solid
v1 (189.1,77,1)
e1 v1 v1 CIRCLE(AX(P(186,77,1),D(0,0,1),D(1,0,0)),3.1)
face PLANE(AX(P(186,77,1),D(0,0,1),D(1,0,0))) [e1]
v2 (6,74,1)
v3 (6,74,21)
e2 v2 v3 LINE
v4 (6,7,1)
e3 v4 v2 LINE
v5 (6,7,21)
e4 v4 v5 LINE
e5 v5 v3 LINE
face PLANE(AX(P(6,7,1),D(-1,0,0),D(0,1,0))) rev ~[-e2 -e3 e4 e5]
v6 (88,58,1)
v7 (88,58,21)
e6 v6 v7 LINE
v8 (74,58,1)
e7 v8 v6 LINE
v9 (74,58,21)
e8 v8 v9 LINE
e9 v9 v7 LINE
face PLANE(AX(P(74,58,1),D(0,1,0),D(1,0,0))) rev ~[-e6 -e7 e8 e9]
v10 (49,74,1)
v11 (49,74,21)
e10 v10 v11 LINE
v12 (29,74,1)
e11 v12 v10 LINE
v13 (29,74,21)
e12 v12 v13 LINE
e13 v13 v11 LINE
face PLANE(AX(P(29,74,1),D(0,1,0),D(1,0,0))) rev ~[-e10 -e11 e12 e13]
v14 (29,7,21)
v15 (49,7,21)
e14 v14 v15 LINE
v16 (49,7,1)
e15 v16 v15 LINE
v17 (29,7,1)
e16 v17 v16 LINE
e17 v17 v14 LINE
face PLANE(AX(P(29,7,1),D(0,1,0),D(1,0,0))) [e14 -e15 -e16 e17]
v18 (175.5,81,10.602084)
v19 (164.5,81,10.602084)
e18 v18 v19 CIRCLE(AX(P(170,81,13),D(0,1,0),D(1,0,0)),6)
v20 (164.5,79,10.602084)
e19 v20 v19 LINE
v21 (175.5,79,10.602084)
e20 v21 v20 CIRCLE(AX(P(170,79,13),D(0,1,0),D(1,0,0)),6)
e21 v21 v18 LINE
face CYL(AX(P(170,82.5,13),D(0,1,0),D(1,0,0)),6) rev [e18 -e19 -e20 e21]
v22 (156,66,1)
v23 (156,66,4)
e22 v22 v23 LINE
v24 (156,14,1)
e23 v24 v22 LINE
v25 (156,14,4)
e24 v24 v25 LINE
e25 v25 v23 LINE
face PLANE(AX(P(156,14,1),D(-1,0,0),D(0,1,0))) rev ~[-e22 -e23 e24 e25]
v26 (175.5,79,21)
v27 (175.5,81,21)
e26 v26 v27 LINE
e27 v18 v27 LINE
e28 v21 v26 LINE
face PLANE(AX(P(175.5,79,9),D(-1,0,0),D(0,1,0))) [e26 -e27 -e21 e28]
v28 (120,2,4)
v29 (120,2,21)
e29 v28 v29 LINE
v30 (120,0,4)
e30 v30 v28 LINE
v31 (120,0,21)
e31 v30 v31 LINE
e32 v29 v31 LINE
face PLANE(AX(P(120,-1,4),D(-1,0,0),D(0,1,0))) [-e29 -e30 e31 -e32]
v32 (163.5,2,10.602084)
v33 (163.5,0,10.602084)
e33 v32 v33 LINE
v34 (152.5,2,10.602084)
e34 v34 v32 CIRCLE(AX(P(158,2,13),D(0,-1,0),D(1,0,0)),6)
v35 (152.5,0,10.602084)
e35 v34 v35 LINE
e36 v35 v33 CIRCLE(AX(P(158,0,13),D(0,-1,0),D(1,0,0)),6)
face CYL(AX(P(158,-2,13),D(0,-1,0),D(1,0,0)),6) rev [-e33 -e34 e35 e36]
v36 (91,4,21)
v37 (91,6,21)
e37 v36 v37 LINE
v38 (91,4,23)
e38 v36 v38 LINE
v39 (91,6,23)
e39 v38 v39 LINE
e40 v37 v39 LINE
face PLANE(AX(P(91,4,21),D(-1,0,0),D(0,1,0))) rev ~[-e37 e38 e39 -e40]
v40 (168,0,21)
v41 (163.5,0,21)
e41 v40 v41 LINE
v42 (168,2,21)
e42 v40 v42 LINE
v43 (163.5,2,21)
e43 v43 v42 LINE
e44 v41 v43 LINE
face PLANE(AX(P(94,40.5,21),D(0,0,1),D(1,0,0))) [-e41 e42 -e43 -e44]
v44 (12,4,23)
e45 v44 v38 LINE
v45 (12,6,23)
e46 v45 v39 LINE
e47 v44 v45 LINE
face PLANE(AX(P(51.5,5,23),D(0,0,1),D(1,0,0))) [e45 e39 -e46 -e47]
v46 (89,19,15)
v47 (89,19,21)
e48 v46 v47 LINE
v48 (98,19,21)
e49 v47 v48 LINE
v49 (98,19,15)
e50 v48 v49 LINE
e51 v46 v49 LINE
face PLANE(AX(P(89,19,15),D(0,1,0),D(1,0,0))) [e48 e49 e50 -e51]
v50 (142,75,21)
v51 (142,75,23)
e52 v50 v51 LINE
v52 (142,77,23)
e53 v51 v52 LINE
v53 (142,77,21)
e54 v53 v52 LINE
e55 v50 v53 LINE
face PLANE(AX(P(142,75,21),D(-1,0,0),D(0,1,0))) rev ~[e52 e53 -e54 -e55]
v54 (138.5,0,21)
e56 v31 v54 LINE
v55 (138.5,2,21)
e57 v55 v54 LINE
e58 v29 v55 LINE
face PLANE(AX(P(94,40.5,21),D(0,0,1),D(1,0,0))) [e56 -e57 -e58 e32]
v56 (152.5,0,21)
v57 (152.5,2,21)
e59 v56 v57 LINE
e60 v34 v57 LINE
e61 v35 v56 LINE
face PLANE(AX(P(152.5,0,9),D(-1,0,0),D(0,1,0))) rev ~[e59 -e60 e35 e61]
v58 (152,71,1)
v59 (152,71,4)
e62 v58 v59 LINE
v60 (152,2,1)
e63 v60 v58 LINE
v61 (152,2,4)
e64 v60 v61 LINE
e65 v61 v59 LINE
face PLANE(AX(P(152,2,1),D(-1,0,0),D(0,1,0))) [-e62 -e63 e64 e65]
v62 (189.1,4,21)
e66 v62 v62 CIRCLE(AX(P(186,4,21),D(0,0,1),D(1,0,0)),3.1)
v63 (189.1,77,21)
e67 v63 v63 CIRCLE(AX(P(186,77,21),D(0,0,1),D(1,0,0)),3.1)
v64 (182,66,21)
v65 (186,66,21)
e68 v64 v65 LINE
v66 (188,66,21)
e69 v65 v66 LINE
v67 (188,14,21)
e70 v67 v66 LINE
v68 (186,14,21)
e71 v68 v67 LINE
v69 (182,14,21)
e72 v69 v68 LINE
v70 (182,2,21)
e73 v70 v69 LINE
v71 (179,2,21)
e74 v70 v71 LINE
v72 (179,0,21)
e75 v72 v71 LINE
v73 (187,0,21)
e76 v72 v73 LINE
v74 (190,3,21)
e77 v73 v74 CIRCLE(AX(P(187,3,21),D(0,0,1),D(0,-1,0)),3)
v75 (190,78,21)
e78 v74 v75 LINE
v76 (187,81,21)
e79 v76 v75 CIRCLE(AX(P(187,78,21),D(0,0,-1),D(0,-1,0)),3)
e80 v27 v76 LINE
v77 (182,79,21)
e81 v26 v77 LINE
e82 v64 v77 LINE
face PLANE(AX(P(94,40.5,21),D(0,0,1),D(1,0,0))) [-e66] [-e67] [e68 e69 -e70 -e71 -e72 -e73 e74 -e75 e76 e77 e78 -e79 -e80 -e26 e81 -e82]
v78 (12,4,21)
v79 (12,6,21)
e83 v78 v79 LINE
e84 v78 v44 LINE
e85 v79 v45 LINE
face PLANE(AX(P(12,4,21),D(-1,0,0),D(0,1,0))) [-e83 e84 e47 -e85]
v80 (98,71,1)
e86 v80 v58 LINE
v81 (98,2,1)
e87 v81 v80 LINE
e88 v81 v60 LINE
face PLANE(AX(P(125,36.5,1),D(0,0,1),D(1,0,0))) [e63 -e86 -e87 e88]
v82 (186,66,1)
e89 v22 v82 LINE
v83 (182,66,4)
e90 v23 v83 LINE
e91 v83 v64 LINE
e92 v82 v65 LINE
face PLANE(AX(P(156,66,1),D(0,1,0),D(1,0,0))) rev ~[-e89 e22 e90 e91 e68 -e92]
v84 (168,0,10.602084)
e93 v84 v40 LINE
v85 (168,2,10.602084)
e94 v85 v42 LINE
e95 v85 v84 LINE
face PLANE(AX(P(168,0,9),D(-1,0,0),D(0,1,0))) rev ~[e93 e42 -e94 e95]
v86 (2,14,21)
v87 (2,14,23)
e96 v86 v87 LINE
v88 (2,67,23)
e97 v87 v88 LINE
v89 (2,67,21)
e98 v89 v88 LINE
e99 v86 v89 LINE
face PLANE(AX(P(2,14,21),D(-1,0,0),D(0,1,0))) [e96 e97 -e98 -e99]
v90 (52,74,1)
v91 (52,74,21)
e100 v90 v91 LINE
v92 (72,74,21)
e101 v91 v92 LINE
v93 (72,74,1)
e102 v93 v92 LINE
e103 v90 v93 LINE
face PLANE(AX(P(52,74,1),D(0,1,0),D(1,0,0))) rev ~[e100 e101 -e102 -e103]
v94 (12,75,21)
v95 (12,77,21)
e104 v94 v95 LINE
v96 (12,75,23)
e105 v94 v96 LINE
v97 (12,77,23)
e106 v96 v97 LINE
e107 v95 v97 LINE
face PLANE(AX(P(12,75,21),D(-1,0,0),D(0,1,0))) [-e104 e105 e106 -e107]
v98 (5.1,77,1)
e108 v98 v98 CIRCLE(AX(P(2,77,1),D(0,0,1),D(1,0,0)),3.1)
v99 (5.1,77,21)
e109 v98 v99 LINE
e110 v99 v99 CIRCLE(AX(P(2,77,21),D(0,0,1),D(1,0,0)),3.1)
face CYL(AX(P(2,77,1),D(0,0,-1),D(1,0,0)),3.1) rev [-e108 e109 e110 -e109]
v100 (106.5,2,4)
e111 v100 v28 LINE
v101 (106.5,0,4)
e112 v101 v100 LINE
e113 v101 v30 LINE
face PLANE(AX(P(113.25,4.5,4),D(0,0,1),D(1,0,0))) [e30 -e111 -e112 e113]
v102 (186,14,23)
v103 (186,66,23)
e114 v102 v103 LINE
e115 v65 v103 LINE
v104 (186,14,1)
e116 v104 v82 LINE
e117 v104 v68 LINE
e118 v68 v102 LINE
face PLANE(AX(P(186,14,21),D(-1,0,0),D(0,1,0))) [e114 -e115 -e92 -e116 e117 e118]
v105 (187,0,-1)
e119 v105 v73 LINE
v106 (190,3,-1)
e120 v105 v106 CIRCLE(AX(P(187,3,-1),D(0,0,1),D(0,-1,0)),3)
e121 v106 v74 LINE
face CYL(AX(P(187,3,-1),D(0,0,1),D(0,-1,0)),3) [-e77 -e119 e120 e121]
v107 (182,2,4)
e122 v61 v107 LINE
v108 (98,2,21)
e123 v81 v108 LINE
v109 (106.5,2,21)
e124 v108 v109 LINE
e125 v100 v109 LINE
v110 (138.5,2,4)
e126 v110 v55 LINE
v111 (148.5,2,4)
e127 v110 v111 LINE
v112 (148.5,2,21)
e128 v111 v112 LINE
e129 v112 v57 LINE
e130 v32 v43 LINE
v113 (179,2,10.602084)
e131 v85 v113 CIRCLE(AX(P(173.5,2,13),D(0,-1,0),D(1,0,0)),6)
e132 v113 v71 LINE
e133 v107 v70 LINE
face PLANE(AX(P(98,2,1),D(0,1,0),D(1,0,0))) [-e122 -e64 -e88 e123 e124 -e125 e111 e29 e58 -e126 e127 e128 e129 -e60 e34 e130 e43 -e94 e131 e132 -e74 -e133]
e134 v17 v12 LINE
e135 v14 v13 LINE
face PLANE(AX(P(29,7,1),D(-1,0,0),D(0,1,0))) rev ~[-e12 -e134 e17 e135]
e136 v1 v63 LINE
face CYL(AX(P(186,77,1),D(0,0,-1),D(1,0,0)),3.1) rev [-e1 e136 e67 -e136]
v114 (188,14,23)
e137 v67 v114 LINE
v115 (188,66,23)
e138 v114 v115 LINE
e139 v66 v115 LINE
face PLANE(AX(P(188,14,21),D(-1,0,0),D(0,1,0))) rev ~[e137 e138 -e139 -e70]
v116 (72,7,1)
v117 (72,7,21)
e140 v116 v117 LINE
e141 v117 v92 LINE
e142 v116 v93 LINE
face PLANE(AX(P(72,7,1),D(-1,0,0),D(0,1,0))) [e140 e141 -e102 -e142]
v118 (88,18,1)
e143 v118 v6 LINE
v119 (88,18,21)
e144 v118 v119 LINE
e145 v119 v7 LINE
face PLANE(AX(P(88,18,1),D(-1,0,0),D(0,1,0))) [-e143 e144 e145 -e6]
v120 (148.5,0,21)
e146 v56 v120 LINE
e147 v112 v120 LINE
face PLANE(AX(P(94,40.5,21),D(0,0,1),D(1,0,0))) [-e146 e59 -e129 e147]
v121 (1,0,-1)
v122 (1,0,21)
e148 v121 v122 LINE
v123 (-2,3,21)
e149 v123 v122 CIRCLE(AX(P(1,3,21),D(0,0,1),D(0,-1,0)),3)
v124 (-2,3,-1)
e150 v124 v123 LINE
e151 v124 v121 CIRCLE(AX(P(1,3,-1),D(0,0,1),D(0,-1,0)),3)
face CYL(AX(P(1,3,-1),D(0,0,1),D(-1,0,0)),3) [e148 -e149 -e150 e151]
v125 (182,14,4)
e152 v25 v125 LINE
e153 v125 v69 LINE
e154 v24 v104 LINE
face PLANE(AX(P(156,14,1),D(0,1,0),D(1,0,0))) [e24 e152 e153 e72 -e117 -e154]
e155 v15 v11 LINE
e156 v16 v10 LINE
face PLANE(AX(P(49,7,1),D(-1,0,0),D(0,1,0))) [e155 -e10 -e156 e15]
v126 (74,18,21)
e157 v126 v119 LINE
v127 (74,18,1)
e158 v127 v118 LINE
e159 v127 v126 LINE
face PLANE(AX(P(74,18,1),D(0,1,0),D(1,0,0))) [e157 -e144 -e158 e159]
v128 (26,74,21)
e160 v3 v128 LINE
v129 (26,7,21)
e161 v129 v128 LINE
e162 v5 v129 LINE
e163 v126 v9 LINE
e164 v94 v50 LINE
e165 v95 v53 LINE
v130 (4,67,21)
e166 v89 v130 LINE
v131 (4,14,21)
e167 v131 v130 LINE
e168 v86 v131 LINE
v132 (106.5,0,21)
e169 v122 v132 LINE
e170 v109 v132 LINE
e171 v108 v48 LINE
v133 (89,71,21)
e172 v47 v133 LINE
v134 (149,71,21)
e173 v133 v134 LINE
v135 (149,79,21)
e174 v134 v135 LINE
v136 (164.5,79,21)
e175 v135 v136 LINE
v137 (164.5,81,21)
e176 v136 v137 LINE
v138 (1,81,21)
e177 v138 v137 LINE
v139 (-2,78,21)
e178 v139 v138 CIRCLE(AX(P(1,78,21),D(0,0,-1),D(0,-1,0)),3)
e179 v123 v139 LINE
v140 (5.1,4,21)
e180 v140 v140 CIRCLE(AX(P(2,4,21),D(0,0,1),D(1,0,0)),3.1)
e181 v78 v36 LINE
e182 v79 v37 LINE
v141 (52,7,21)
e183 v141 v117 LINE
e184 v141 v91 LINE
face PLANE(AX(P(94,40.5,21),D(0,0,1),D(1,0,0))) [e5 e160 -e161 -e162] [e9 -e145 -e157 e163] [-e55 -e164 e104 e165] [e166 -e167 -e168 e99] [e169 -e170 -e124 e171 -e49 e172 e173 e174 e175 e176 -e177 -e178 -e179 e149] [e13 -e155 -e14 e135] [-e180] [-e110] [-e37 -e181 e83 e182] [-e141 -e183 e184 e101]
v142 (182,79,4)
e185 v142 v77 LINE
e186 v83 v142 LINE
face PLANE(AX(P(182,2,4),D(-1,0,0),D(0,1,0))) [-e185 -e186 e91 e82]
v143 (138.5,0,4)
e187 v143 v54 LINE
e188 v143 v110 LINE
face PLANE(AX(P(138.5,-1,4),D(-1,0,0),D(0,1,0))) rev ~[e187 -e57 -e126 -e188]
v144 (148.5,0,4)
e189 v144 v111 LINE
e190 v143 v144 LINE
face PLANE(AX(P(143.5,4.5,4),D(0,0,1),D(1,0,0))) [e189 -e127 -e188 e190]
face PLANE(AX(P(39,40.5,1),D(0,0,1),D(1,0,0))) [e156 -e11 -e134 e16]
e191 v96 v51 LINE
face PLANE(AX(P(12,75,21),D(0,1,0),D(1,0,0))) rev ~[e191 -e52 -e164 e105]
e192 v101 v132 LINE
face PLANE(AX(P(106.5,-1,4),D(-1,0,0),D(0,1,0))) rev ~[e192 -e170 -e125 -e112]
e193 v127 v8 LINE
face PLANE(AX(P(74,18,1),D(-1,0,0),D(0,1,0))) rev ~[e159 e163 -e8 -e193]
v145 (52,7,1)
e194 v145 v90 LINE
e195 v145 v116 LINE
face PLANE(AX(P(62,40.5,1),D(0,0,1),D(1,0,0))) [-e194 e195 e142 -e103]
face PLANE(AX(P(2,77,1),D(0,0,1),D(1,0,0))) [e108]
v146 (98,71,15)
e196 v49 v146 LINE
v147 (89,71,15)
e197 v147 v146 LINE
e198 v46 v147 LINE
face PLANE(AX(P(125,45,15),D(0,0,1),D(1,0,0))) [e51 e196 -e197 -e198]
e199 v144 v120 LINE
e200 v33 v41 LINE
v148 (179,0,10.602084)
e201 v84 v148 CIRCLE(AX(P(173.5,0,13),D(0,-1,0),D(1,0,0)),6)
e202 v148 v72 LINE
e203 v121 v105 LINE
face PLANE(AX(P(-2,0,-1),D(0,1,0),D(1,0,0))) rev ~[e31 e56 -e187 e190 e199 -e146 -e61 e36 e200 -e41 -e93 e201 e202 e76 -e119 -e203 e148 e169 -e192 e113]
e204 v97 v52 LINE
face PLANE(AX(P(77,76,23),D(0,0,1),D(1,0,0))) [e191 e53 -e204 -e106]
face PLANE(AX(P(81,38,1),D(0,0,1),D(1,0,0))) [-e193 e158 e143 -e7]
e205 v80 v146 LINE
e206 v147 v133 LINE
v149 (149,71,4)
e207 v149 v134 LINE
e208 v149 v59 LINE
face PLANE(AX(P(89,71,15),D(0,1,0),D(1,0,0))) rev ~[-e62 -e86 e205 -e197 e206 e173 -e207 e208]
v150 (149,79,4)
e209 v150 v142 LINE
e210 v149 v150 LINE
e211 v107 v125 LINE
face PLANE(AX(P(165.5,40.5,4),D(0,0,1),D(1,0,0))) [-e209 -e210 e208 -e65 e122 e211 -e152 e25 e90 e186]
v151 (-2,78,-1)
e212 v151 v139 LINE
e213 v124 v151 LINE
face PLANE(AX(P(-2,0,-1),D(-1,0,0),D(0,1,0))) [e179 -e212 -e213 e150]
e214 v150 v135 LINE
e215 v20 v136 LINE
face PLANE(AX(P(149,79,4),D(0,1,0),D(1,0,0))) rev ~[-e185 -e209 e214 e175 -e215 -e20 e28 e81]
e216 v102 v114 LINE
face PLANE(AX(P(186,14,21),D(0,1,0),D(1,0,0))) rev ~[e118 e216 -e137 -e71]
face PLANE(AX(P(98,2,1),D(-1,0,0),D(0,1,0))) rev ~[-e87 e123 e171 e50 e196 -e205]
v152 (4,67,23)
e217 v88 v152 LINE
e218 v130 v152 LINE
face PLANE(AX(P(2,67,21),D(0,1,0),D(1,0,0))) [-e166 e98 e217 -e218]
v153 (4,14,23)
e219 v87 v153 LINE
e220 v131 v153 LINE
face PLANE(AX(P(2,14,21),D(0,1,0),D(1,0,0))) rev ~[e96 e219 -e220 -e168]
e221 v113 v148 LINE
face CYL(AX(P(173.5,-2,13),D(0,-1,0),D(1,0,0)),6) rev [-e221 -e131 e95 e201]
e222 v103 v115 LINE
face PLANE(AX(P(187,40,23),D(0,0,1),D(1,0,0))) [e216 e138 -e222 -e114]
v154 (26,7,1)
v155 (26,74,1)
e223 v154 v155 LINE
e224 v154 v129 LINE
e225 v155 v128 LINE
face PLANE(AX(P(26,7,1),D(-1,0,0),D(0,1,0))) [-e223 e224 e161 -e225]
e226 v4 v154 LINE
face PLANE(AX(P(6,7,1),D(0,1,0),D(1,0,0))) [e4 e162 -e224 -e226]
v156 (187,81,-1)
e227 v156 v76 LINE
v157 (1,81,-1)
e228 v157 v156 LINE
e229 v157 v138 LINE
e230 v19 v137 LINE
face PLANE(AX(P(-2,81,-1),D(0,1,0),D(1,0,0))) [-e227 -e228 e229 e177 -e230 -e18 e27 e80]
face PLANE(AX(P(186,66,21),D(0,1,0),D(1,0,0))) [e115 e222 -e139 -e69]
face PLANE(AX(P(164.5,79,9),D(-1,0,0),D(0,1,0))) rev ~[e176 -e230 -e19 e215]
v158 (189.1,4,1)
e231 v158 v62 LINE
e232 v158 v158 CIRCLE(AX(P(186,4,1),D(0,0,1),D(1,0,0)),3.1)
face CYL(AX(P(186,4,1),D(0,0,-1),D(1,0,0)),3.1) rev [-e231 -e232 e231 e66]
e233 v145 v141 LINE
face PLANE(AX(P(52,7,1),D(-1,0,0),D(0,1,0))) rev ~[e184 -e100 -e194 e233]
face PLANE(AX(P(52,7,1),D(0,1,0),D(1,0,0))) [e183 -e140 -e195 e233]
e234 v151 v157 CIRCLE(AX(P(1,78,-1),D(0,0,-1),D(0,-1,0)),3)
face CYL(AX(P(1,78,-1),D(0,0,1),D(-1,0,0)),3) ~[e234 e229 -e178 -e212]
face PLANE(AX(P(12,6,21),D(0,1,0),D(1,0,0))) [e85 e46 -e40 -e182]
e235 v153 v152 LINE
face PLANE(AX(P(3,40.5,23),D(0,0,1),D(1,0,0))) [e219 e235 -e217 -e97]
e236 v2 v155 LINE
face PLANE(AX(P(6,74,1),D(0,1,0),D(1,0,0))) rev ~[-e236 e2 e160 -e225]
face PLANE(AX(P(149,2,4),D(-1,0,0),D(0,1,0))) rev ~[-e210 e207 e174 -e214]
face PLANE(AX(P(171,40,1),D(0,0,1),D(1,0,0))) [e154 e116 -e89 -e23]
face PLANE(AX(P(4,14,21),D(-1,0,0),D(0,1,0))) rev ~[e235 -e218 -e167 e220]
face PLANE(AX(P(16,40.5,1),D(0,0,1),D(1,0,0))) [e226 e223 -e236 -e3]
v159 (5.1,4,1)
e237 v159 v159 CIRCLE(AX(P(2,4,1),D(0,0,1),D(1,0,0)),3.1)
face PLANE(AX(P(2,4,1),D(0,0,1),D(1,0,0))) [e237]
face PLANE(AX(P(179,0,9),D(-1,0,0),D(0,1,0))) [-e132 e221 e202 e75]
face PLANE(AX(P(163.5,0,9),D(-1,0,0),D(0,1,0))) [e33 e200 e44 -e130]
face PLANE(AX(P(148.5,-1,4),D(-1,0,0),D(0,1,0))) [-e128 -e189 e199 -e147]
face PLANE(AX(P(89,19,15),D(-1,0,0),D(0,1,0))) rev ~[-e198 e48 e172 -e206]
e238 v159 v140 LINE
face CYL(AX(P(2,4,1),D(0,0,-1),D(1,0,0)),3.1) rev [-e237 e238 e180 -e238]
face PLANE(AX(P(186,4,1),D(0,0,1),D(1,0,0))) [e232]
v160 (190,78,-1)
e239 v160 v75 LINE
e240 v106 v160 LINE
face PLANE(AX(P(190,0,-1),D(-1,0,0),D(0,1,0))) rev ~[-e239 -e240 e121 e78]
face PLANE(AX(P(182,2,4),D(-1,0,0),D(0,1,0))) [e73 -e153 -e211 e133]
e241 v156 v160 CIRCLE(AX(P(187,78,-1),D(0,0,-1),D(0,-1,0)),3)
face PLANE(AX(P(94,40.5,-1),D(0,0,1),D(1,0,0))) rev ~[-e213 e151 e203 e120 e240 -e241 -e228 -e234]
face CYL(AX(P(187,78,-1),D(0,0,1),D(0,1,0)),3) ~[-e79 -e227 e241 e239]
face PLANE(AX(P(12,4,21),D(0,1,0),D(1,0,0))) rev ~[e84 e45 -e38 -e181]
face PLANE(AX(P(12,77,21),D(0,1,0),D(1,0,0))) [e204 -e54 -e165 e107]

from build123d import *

# Parameters (mm, degrees)
BOX024_W                  = 130
BOX024_H                  = 2
BOX024_DEPTH              = 2
BOX025_W                  = 79
BOX025_H                  = 2
BOX025_DEPTH              = 2
BOX026_W                  = 2
BOX026_H                  = 52
BOX026_DEPTH              = 2
BOX023_W                  = 2
BOX023_H                  = 53
BOX023_DEPTH              = 2
BOX018_W                  = 0.5
BOX018_H                  = 2
BOX018_DEPTH              = 12
BOX019_W                  = 0.5
BOX019_H                  = 2
BOX019_DEPTH              = 12
BOX020_W                  = 0.5
BOX020_H                  = 2
BOX020_DEPTH              = 12
BOX021_W                  = 0.5
BOX021_H                  = 2
BOX021_DEPTH              = 12
BOX022_W                  = 0.5
BOX022_H                  = 2
BOX022_DEPTH              = 12
BOX017_W                  = 0.5
BOX017_H                  = 2
BOX017_DEPTH              = 12
BOX015_W                  = 12
BOX015_H                  = 10
BOX015_DEPTH              = 20
BOX016_W                  = 12
BOX016_H                  = 10
BOX016_DEPTH              = 20
BOX014_W                  = 12
BOX014_H                  = 10
BOX014_DEPTH              = 20
CYLINDER016_R             = 7
CYLINDER016_DEPTH         = 1.5
CYLINDER015_R             = 6
CYLINDER015_DEPTH         = 18
FUSION006_PLACEMENT_ANGLE = 90
CYLINDER018_R             = 7
CYLINDER018_DEPTH         = 1.5
CYLINDER017_R             = 6
CYLINDER017_DEPTH         = 18
FUSION007_PLACEMENT_ANGLE = 90
CYLINDER014_R             = 7
CYLINDER014_DEPTH         = 1.5
CYLINDER013_R             = 6
CYLINDER013_DEPTH         = 18
FUSION005_PLACEMENT_ANGLE = 90
BOX013_W                  = 33
BOX013_H                  = 77
BOX013_DEPTH              = 17
BOX012_W                  = 10
BOX012_H                  = 11
BOX012_DEPTH              = 21
BOX011_W                  = 13.5
BOX011_H                  = 11
BOX011_DEPTH              = 21
CYLINDER010_R             = 3.1
CYLINDER010_DEPTH         = 20
CYLINDER011_R             = 3.1
CYLINDER011_DEPTH         = 20
CYLINDER012_R             = 3.1
CYLINDER012_DEPTH         = 20
BOX004_W                  = 20
BOX004_H                  = 67
BOX004_DEPTH              = 20
BOX005_W                  = 20
BOX005_H                  = 67
BOX005_DEPTH              = 20
BOX006_W                  = 20
BOX006_H                  = 67
BOX006_DEPTH              = 20
BOX007_W                  = 14
BOX007_H                  = 40
BOX007_DEPTH              = 20
BOX008_W                  = 54
BOX008_H                  = 69
BOX008_DEPTH              = 20
BOX009_W                  = 30
BOX009_H                  = 52
BOX009_DEPTH              = 20
BOX010_W                  = 72
BOX010_H                  = 52
BOX010_DEPTH              = 6
CYLINDER009_R             = 3.1
CYLINDER009_DEPTH         = 20
BOX_W                     = 192
BOX_H                     = 81
BOX_DEPTH                 = 22
FILLET_R                  = 3


with BuildPart() as cube011:
    # Box024 → Box024 (new body)
    with BuildSketch(Plane(origin=(12, 75, 21), x_dir=(1, 0, 0), z_dir=(0, 0, 1))):
        with Locations((65, 1)):
            Rectangle(BOX024_W, BOX024_H)
    extrude(amount=BOX024_DEPTH)


with BuildPart() as cube012:
    # Box025 → Box025 (new body)
    with BuildSketch(Plane(origin=(12, 4, 21), x_dir=(1, 0, 0), z_dir=(0, 0, 1))):
        with Locations((39.5, 1)):
            Rectangle(BOX025_W, BOX025_H)
    extrude(amount=BOX025_DEPTH)


with BuildPart() as cube013:
    # Box026 → Box026 (new body)
    with BuildSketch(Plane(origin=(186, 14, 21), x_dir=(1, 0, 0), z_dir=(0, 0, 1))):
        with Locations((1, 26)):
            Rectangle(BOX026_W, BOX026_H)
    extrude(amount=BOX026_DEPTH)


with BuildPart() as latches:
    # Box023 → Box023 (new body)
    with BuildSketch(Plane(origin=(2, 14, 21), x_dir=(1, 0, 0), z_dir=(0, 0, 1))):
        with Locations((1, 26.5)):
            Rectangle(BOX023_W, BOX023_H)
    extrude(amount=BOX023_DEPTH)

    # Compound: union Cube011, Cube012, Cube013
    add(cube011.part)
    add(cube012.part)
    add(cube013.part)


with BuildPart() as cube005:
    # Box018 → Box018 (new body)
    with BuildSketch(Plane(origin=(163.5, 0, 9), x_dir=(1, 0, 0), z_dir=(0, 0, 1))):
        with Locations((0.25, 1)):
            Rectangle(BOX018_W, BOX018_H)
    extrude(amount=BOX018_DEPTH)


with BuildPart() as cube006:
    # Box019 → Box019 (new body)
    with BuildSketch(Plane(origin=(167.5, 0, 9), x_dir=(1, 0, 0), z_dir=(0, 0, 1))):
        with Locations((0.25, 1)):
            Rectangle(BOX019_W, BOX019_H)
    extrude(amount=BOX019_DEPTH)


with BuildPart() as cube007:
    # Box020 → Box020 (new body)
    with BuildSketch(Plane(origin=(179, 0, 9), x_dir=(1, 0, 0), z_dir=(0, 0, 1))):
        with Locations((0.25, 1)):
            Rectangle(BOX020_W, BOX020_H)
    extrude(amount=BOX020_DEPTH)


with BuildPart() as cube008:
    # Box021 → Box021 (new body)
    with BuildSketch(Plane(origin=(175.5, 79, 9), x_dir=(1, 0, 0), z_dir=(0, 0, 1))):
        with Locations((0.25, 1)):
            Rectangle(BOX021_W, BOX021_H)
    extrude(amount=BOX021_DEPTH)


with BuildPart() as cube009:
    # Box022 → Box022 (new body)
    with BuildSketch(Plane(origin=(164, 79, 9), x_dir=(1, 0, 0), z_dir=(0, 0, 1))):
        with Locations((0.25, 1)):
            Rectangle(BOX022_W, BOX022_H)
    extrude(amount=BOX022_DEPTH)


with BuildPart() as narrowingdcjackmounts:
    # Box017 → Box017 (new body)
    with BuildSketch(Plane(origin=(152, 0, 9), x_dir=(1, 0, 0), z_dir=(0, 0, 1))):
        with Locations((0.25, 1)):
            Rectangle(BOX017_W, BOX017_H)
    extrude(amount=BOX017_DEPTH)

    # Fusion010: union Cube005, Cube006, Cube007, Cube008, Cube009
    add(cube005.part)
    add(cube006.part)
    add(cube007.part)
    add(cube008.part)
    add(cube009.part)


with BuildPart() as cube002:
    # Box015 → Box015 (new body)
    with BuildSketch(Plane(origin=(167.5, 0, 13), x_dir=(1, 0, 0), z_dir=(0, 0, 1))):
        with Locations((6, 5)):
            Rectangle(BOX015_W, BOX015_H)
    extrude(amount=BOX015_DEPTH)


with BuildPart() as cube003:
    # Box016 → Box016 (new body)
    with BuildSketch(Plane(origin=(164, 71, 13), x_dir=(1, 0, 0), z_dir=(0, 0, 1))):
        with Locations((6, 5)):
            Rectangle(BOX016_W, BOX016_H)
    extrude(amount=BOX016_DEPTH)


with BuildPart() as fusion009:
    # Box014 → Box014 (new body)
    with BuildSketch(Plane(origin=(152, 0, 13), x_dir=(1, 0, 0), z_dir=(0, 0, 1))):
        with Locations((6, 5)):
            Rectangle(BOX014_W, BOX014_H)
    extrude(amount=BOX014_DEPTH)

    # Fusion009: union Cube002, Cube003
    add(cube002.part)
    add(cube003.part)


with BuildPart() as cylinder016:
    # Cylinder016 → Cylinder016 (new body)
    with BuildSketch(Plane.XY):
        Circle(CYLINDER016_R)
    extrude(amount=CYLINDER016_DEPTH)


with BuildPart() as fusion006:
    # Cylinder015 → Cylinder015 (new body)
    with BuildSketch(Plane.XY):
        Circle(CYLINDER015_R)
    extrude(amount=CYLINDER015_DEPTH)

    # Fusion006: union Cylinder016
    add(cylinder016.part)


with BuildPart() as fusion006_1:
    # Fusion006 placement: moved
    add(fusion006.part.moved(Location((158, -2, 13))).rotate(Axis((158, -2, 13), (-1, 0, 0)), FUSION006_PLACEMENT_ANGLE))


with BuildPart() as cylinder018:
    # Cylinder018 → Cylinder018 (new body)
    with BuildSketch(Plane.XY):
        Circle(CYLINDER018_R)
    extrude(amount=CYLINDER018_DEPTH)


with BuildPart() as fusion007:
    # Cylinder017 → Cylinder017 (new body)
    with BuildSketch(Plane.XY):
        Circle(CYLINDER017_R)
    extrude(amount=CYLINDER017_DEPTH)

    # Fusion007: union Cylinder018
    add(cylinder018.part)


with BuildPart() as fusion007_1:
    # Fusion007 placement: moved
    add(fusion007.part.moved(Location((170, 82.5, 13))).rotate(Axis((170, 82.5, 13), (1, 0, 0)), FUSION007_PLACEMENT_ANGLE))


with BuildPart() as cylinder014:
    # Cylinder014 → Cylinder014 (new body)
    with BuildSketch(Plane.XY):
        Circle(CYLINDER014_R)
    extrude(amount=CYLINDER014_DEPTH)


with BuildPart() as dc_jack_holes:
    # Cylinder013 → Cylinder013 (new body)
    with BuildSketch(Plane.XY):
        Circle(CYLINDER013_R)
    extrude(amount=CYLINDER013_DEPTH)

    # Fusion005: union Cylinder014
    add(cylinder014.part)


with BuildPart() as dc_jack_holes_1:
    # Fusion005 placement: moved
    add(dc_jack_holes.part.moved(Location((173.5, -2, 13))).rotate(Axis((173.5, -2, 13), (-1, 0, 0)), FUSION005_PLACEMENT_ANGLE))

    # Fusion008: union Fusion006, Fusion007
    add(fusion006_1.part)
    add(fusion007_1.part)


with BuildPart() as cube:
    # Box013 → Box013 (new body)
    with BuildSketch(Plane(origin=(149, 2, 4), x_dir=(1, 0, 0), z_dir=(0, 0, 1))):
        with Locations((16.5, 38.5)):
            Rectangle(BOX013_W, BOX013_H)
    extrude(amount=BOX013_DEPTH)


with BuildPart() as arduion_dc_in_hole:
    # Box012 → Box012 (new body)
    with BuildSketch(Plane(origin=(138.5, -1, 4), x_dir=(1, 0, 0), z_dir=(0, 0, 1))):
        with Locations((5, 5.5)):
            Rectangle(BOX012_W, BOX012_H)
    extrude(amount=BOX012_DEPTH)


with BuildPart() as arduino_jacks_holes:
    # Box011 → Box011 (new body)
    with BuildSketch(Plane(origin=(106.5, -1, 4), x_dir=(1, 0, 0), z_dir=(0, 0, 1))):
        with Locations((6.75, 5.5)):
            Rectangle(BOX011_W, BOX011_H)
    extrude(amount=BOX011_DEPTH)

    # Fusion004: union Arduion DC-IN Hole
    add(arduion_dc_in_hole.part)


with BuildPart() as m4_mounting_hole001:
    # Cylinder010 → Cylinder010 (new body)
    with BuildSketch(Plane(origin=(2, 77, 1), x_dir=(1, 0, 0), z_dir=(0, 0, 1))):
        Circle(CYLINDER010_R)
    extrude(amount=CYLINDER010_DEPTH)


with BuildPart() as m4_mounting_hole002:
    # Cylinder011 → Cylinder011 (new body)
    with BuildSketch(Plane(origin=(186, 77, 1), x_dir=(1, 0, 0), z_dir=(0, 0, 1))):
        Circle(CYLINDER011_R)
    extrude(amount=CYLINDER011_DEPTH)


with BuildPart() as m4_mounting_hole003:
    # Cylinder012 → Cylinder012 (new body)
    with BuildSketch(Plane(origin=(186, 4, 1), x_dir=(1, 0, 0), z_dir=(0, 0, 1))):
        Circle(CYLINDER012_R)
    extrude(amount=CYLINDER012_DEPTH)


with BuildPart() as f_18650_mnt_place:
    # Box004 → Box004 (new body)
    with BuildSketch(Plane(origin=(6, 7, 1), x_dir=(1, 0, 0), z_dir=(0, 0, 1))):
        with Locations((10, 33.5)):
            Rectangle(BOX004_W, BOX004_H)
    extrude(amount=BOX004_DEPTH)


with BuildPart() as f_18650_mnt_place001:
    # Box005 → Box005 (new body)
    with BuildSketch(Plane(origin=(29, 7, 1), x_dir=(1, 0, 0), z_dir=(0, 0, 1))):
        with Locations((10, 33.5)):
            Rectangle(BOX005_W, BOX005_H)
    extrude(amount=BOX005_DEPTH)


with BuildPart() as f_18650_mnt_place002:
    # Box006 → Box006 (new body)
    with BuildSketch(Plane(origin=(52, 7, 1), x_dir=(1, 0, 0), z_dir=(0, 0, 1))):
        with Locations((10, 33.5)):
            Rectangle(BOX006_W, BOX006_H)
    extrude(amount=BOX006_DEPTH)


with BuildPart() as current_sensor_mnt_place:
    # Box007 → Box007 (new body)
    with BuildSketch(Plane(origin=(74, 18, 1), x_dir=(1, 0, 0), z_dir=(0, 0, 1))):
        with Locations((7, 20)):
            Rectangle(BOX007_W, BOX007_H)
    extrude(amount=BOX007_DEPTH)


with BuildPart() as arduino_mnt_place:
    # Box008 → Box008 (new body)
    with BuildSketch(Plane(origin=(98, 2, 1), x_dir=(1, 0, 0), z_dir=(0, 0, 1))):
        with Locations((27, 34.5)):
            Rectangle(BOX008_W, BOX008_H)
    extrude(amount=BOX008_DEPTH)


with BuildPart() as dc_dc_step_up_mnt_place:
    # Box009 → Box009 (new body)
    with BuildSketch(Plane(origin=(156, 14, 1), x_dir=(1, 0, 0), z_dir=(0, 0, 1))):
        with Locations((15, 26)):
            Rectangle(BOX009_W, BOX009_H)
    extrude(amount=BOX009_DEPTH)


with BuildPart() as main_board_mnt_place:
    # Box010 → Box010 (new body)
    with BuildSketch(Plane(origin=(89, 19, 15), x_dir=(1, 0, 0), z_dir=(0, 0, 1))):
        with Locations((36, 26)):
            Rectangle(BOX010_W, BOX010_H)
    extrude(amount=BOX010_DEPTH)


with BuildPart() as inner_mnt_holes:
    # Cylinder009 → Cylinder009 (new body)
    with BuildSketch(Plane(origin=(2, 4, 1), x_dir=(1, 0, 0), z_dir=(0, 0, 1))):
        Circle(CYLINDER009_R)
    extrude(amount=CYLINDER009_DEPTH)

    # Fusion003: union M4 Mounting Hole001, M4 Mounting Hole002, M4 Mounting Hole003, 18650 MNT PLACE, 18650 MNT PLACE001, 18650 MNT PLACE002, Current Sensor MNT Place, Arduino MNT Place, DC-DC Step Up MNT Place, Main Board MNT Place
    add(m4_mounting_hole001.part)
    add(m4_mounting_hole002.part)
    add(m4_mounting_hole003.part)
    add(f_18650_mnt_place.part)
    add(f_18650_mnt_place001.part)
    add(f_18650_mnt_place002.part)
    add(current_sensor_mnt_place.part)
    add(arduino_mnt_place.part)
    add(dc_dc_step_up_mnt_place.part)
    add(main_board_mnt_place.part)


with BuildPart() as body:
    # Box → Box (new body)
    with BuildSketch(Plane(origin=(-2, 0, -1), x_dir=(1, 0, 0), z_dir=(0, 0, 1))):
        with Locations((96, 40.5)):
            Rectangle(BOX_W, BOX_H)
    extrude(amount=BOX_DEPTH)

    # Cut: cut Inner MNT Holes
    add(inner_mnt_holes.part, mode=Mode.SUBTRACT)

    # Cut001: cut Arduino Jacks Holes
    add(arduino_jacks_holes.part, mode=Mode.SUBTRACT)

    # Cut002: cut Cube
    add(cube.part, mode=Mode.SUBTRACT)

    # Cut003: cut DC_Jack_Holes
    add(dc_jack_holes_1.part, mode=Mode.SUBTRACT)

    # Cut004: cut Fusion009
    add(fusion009.part, mode=Mode.SUBTRACT)

    # Fillet
    fillet_edges = [body.edges().sort_by_distance(p)[0] for p in [
        (-2, 0, 10),
        (-2, 81, 10),
        (190, 0, 10),
        (190, 81, 10),
    ]]
    fillet(fillet_edges, radius=FILLET_R)

    # Fusion011: union NarrowingDCJackMounts
    add(narrowingdcjackmounts.part)

    # Fusion012: union Latches
    add(latches.part)


solid = body.part
